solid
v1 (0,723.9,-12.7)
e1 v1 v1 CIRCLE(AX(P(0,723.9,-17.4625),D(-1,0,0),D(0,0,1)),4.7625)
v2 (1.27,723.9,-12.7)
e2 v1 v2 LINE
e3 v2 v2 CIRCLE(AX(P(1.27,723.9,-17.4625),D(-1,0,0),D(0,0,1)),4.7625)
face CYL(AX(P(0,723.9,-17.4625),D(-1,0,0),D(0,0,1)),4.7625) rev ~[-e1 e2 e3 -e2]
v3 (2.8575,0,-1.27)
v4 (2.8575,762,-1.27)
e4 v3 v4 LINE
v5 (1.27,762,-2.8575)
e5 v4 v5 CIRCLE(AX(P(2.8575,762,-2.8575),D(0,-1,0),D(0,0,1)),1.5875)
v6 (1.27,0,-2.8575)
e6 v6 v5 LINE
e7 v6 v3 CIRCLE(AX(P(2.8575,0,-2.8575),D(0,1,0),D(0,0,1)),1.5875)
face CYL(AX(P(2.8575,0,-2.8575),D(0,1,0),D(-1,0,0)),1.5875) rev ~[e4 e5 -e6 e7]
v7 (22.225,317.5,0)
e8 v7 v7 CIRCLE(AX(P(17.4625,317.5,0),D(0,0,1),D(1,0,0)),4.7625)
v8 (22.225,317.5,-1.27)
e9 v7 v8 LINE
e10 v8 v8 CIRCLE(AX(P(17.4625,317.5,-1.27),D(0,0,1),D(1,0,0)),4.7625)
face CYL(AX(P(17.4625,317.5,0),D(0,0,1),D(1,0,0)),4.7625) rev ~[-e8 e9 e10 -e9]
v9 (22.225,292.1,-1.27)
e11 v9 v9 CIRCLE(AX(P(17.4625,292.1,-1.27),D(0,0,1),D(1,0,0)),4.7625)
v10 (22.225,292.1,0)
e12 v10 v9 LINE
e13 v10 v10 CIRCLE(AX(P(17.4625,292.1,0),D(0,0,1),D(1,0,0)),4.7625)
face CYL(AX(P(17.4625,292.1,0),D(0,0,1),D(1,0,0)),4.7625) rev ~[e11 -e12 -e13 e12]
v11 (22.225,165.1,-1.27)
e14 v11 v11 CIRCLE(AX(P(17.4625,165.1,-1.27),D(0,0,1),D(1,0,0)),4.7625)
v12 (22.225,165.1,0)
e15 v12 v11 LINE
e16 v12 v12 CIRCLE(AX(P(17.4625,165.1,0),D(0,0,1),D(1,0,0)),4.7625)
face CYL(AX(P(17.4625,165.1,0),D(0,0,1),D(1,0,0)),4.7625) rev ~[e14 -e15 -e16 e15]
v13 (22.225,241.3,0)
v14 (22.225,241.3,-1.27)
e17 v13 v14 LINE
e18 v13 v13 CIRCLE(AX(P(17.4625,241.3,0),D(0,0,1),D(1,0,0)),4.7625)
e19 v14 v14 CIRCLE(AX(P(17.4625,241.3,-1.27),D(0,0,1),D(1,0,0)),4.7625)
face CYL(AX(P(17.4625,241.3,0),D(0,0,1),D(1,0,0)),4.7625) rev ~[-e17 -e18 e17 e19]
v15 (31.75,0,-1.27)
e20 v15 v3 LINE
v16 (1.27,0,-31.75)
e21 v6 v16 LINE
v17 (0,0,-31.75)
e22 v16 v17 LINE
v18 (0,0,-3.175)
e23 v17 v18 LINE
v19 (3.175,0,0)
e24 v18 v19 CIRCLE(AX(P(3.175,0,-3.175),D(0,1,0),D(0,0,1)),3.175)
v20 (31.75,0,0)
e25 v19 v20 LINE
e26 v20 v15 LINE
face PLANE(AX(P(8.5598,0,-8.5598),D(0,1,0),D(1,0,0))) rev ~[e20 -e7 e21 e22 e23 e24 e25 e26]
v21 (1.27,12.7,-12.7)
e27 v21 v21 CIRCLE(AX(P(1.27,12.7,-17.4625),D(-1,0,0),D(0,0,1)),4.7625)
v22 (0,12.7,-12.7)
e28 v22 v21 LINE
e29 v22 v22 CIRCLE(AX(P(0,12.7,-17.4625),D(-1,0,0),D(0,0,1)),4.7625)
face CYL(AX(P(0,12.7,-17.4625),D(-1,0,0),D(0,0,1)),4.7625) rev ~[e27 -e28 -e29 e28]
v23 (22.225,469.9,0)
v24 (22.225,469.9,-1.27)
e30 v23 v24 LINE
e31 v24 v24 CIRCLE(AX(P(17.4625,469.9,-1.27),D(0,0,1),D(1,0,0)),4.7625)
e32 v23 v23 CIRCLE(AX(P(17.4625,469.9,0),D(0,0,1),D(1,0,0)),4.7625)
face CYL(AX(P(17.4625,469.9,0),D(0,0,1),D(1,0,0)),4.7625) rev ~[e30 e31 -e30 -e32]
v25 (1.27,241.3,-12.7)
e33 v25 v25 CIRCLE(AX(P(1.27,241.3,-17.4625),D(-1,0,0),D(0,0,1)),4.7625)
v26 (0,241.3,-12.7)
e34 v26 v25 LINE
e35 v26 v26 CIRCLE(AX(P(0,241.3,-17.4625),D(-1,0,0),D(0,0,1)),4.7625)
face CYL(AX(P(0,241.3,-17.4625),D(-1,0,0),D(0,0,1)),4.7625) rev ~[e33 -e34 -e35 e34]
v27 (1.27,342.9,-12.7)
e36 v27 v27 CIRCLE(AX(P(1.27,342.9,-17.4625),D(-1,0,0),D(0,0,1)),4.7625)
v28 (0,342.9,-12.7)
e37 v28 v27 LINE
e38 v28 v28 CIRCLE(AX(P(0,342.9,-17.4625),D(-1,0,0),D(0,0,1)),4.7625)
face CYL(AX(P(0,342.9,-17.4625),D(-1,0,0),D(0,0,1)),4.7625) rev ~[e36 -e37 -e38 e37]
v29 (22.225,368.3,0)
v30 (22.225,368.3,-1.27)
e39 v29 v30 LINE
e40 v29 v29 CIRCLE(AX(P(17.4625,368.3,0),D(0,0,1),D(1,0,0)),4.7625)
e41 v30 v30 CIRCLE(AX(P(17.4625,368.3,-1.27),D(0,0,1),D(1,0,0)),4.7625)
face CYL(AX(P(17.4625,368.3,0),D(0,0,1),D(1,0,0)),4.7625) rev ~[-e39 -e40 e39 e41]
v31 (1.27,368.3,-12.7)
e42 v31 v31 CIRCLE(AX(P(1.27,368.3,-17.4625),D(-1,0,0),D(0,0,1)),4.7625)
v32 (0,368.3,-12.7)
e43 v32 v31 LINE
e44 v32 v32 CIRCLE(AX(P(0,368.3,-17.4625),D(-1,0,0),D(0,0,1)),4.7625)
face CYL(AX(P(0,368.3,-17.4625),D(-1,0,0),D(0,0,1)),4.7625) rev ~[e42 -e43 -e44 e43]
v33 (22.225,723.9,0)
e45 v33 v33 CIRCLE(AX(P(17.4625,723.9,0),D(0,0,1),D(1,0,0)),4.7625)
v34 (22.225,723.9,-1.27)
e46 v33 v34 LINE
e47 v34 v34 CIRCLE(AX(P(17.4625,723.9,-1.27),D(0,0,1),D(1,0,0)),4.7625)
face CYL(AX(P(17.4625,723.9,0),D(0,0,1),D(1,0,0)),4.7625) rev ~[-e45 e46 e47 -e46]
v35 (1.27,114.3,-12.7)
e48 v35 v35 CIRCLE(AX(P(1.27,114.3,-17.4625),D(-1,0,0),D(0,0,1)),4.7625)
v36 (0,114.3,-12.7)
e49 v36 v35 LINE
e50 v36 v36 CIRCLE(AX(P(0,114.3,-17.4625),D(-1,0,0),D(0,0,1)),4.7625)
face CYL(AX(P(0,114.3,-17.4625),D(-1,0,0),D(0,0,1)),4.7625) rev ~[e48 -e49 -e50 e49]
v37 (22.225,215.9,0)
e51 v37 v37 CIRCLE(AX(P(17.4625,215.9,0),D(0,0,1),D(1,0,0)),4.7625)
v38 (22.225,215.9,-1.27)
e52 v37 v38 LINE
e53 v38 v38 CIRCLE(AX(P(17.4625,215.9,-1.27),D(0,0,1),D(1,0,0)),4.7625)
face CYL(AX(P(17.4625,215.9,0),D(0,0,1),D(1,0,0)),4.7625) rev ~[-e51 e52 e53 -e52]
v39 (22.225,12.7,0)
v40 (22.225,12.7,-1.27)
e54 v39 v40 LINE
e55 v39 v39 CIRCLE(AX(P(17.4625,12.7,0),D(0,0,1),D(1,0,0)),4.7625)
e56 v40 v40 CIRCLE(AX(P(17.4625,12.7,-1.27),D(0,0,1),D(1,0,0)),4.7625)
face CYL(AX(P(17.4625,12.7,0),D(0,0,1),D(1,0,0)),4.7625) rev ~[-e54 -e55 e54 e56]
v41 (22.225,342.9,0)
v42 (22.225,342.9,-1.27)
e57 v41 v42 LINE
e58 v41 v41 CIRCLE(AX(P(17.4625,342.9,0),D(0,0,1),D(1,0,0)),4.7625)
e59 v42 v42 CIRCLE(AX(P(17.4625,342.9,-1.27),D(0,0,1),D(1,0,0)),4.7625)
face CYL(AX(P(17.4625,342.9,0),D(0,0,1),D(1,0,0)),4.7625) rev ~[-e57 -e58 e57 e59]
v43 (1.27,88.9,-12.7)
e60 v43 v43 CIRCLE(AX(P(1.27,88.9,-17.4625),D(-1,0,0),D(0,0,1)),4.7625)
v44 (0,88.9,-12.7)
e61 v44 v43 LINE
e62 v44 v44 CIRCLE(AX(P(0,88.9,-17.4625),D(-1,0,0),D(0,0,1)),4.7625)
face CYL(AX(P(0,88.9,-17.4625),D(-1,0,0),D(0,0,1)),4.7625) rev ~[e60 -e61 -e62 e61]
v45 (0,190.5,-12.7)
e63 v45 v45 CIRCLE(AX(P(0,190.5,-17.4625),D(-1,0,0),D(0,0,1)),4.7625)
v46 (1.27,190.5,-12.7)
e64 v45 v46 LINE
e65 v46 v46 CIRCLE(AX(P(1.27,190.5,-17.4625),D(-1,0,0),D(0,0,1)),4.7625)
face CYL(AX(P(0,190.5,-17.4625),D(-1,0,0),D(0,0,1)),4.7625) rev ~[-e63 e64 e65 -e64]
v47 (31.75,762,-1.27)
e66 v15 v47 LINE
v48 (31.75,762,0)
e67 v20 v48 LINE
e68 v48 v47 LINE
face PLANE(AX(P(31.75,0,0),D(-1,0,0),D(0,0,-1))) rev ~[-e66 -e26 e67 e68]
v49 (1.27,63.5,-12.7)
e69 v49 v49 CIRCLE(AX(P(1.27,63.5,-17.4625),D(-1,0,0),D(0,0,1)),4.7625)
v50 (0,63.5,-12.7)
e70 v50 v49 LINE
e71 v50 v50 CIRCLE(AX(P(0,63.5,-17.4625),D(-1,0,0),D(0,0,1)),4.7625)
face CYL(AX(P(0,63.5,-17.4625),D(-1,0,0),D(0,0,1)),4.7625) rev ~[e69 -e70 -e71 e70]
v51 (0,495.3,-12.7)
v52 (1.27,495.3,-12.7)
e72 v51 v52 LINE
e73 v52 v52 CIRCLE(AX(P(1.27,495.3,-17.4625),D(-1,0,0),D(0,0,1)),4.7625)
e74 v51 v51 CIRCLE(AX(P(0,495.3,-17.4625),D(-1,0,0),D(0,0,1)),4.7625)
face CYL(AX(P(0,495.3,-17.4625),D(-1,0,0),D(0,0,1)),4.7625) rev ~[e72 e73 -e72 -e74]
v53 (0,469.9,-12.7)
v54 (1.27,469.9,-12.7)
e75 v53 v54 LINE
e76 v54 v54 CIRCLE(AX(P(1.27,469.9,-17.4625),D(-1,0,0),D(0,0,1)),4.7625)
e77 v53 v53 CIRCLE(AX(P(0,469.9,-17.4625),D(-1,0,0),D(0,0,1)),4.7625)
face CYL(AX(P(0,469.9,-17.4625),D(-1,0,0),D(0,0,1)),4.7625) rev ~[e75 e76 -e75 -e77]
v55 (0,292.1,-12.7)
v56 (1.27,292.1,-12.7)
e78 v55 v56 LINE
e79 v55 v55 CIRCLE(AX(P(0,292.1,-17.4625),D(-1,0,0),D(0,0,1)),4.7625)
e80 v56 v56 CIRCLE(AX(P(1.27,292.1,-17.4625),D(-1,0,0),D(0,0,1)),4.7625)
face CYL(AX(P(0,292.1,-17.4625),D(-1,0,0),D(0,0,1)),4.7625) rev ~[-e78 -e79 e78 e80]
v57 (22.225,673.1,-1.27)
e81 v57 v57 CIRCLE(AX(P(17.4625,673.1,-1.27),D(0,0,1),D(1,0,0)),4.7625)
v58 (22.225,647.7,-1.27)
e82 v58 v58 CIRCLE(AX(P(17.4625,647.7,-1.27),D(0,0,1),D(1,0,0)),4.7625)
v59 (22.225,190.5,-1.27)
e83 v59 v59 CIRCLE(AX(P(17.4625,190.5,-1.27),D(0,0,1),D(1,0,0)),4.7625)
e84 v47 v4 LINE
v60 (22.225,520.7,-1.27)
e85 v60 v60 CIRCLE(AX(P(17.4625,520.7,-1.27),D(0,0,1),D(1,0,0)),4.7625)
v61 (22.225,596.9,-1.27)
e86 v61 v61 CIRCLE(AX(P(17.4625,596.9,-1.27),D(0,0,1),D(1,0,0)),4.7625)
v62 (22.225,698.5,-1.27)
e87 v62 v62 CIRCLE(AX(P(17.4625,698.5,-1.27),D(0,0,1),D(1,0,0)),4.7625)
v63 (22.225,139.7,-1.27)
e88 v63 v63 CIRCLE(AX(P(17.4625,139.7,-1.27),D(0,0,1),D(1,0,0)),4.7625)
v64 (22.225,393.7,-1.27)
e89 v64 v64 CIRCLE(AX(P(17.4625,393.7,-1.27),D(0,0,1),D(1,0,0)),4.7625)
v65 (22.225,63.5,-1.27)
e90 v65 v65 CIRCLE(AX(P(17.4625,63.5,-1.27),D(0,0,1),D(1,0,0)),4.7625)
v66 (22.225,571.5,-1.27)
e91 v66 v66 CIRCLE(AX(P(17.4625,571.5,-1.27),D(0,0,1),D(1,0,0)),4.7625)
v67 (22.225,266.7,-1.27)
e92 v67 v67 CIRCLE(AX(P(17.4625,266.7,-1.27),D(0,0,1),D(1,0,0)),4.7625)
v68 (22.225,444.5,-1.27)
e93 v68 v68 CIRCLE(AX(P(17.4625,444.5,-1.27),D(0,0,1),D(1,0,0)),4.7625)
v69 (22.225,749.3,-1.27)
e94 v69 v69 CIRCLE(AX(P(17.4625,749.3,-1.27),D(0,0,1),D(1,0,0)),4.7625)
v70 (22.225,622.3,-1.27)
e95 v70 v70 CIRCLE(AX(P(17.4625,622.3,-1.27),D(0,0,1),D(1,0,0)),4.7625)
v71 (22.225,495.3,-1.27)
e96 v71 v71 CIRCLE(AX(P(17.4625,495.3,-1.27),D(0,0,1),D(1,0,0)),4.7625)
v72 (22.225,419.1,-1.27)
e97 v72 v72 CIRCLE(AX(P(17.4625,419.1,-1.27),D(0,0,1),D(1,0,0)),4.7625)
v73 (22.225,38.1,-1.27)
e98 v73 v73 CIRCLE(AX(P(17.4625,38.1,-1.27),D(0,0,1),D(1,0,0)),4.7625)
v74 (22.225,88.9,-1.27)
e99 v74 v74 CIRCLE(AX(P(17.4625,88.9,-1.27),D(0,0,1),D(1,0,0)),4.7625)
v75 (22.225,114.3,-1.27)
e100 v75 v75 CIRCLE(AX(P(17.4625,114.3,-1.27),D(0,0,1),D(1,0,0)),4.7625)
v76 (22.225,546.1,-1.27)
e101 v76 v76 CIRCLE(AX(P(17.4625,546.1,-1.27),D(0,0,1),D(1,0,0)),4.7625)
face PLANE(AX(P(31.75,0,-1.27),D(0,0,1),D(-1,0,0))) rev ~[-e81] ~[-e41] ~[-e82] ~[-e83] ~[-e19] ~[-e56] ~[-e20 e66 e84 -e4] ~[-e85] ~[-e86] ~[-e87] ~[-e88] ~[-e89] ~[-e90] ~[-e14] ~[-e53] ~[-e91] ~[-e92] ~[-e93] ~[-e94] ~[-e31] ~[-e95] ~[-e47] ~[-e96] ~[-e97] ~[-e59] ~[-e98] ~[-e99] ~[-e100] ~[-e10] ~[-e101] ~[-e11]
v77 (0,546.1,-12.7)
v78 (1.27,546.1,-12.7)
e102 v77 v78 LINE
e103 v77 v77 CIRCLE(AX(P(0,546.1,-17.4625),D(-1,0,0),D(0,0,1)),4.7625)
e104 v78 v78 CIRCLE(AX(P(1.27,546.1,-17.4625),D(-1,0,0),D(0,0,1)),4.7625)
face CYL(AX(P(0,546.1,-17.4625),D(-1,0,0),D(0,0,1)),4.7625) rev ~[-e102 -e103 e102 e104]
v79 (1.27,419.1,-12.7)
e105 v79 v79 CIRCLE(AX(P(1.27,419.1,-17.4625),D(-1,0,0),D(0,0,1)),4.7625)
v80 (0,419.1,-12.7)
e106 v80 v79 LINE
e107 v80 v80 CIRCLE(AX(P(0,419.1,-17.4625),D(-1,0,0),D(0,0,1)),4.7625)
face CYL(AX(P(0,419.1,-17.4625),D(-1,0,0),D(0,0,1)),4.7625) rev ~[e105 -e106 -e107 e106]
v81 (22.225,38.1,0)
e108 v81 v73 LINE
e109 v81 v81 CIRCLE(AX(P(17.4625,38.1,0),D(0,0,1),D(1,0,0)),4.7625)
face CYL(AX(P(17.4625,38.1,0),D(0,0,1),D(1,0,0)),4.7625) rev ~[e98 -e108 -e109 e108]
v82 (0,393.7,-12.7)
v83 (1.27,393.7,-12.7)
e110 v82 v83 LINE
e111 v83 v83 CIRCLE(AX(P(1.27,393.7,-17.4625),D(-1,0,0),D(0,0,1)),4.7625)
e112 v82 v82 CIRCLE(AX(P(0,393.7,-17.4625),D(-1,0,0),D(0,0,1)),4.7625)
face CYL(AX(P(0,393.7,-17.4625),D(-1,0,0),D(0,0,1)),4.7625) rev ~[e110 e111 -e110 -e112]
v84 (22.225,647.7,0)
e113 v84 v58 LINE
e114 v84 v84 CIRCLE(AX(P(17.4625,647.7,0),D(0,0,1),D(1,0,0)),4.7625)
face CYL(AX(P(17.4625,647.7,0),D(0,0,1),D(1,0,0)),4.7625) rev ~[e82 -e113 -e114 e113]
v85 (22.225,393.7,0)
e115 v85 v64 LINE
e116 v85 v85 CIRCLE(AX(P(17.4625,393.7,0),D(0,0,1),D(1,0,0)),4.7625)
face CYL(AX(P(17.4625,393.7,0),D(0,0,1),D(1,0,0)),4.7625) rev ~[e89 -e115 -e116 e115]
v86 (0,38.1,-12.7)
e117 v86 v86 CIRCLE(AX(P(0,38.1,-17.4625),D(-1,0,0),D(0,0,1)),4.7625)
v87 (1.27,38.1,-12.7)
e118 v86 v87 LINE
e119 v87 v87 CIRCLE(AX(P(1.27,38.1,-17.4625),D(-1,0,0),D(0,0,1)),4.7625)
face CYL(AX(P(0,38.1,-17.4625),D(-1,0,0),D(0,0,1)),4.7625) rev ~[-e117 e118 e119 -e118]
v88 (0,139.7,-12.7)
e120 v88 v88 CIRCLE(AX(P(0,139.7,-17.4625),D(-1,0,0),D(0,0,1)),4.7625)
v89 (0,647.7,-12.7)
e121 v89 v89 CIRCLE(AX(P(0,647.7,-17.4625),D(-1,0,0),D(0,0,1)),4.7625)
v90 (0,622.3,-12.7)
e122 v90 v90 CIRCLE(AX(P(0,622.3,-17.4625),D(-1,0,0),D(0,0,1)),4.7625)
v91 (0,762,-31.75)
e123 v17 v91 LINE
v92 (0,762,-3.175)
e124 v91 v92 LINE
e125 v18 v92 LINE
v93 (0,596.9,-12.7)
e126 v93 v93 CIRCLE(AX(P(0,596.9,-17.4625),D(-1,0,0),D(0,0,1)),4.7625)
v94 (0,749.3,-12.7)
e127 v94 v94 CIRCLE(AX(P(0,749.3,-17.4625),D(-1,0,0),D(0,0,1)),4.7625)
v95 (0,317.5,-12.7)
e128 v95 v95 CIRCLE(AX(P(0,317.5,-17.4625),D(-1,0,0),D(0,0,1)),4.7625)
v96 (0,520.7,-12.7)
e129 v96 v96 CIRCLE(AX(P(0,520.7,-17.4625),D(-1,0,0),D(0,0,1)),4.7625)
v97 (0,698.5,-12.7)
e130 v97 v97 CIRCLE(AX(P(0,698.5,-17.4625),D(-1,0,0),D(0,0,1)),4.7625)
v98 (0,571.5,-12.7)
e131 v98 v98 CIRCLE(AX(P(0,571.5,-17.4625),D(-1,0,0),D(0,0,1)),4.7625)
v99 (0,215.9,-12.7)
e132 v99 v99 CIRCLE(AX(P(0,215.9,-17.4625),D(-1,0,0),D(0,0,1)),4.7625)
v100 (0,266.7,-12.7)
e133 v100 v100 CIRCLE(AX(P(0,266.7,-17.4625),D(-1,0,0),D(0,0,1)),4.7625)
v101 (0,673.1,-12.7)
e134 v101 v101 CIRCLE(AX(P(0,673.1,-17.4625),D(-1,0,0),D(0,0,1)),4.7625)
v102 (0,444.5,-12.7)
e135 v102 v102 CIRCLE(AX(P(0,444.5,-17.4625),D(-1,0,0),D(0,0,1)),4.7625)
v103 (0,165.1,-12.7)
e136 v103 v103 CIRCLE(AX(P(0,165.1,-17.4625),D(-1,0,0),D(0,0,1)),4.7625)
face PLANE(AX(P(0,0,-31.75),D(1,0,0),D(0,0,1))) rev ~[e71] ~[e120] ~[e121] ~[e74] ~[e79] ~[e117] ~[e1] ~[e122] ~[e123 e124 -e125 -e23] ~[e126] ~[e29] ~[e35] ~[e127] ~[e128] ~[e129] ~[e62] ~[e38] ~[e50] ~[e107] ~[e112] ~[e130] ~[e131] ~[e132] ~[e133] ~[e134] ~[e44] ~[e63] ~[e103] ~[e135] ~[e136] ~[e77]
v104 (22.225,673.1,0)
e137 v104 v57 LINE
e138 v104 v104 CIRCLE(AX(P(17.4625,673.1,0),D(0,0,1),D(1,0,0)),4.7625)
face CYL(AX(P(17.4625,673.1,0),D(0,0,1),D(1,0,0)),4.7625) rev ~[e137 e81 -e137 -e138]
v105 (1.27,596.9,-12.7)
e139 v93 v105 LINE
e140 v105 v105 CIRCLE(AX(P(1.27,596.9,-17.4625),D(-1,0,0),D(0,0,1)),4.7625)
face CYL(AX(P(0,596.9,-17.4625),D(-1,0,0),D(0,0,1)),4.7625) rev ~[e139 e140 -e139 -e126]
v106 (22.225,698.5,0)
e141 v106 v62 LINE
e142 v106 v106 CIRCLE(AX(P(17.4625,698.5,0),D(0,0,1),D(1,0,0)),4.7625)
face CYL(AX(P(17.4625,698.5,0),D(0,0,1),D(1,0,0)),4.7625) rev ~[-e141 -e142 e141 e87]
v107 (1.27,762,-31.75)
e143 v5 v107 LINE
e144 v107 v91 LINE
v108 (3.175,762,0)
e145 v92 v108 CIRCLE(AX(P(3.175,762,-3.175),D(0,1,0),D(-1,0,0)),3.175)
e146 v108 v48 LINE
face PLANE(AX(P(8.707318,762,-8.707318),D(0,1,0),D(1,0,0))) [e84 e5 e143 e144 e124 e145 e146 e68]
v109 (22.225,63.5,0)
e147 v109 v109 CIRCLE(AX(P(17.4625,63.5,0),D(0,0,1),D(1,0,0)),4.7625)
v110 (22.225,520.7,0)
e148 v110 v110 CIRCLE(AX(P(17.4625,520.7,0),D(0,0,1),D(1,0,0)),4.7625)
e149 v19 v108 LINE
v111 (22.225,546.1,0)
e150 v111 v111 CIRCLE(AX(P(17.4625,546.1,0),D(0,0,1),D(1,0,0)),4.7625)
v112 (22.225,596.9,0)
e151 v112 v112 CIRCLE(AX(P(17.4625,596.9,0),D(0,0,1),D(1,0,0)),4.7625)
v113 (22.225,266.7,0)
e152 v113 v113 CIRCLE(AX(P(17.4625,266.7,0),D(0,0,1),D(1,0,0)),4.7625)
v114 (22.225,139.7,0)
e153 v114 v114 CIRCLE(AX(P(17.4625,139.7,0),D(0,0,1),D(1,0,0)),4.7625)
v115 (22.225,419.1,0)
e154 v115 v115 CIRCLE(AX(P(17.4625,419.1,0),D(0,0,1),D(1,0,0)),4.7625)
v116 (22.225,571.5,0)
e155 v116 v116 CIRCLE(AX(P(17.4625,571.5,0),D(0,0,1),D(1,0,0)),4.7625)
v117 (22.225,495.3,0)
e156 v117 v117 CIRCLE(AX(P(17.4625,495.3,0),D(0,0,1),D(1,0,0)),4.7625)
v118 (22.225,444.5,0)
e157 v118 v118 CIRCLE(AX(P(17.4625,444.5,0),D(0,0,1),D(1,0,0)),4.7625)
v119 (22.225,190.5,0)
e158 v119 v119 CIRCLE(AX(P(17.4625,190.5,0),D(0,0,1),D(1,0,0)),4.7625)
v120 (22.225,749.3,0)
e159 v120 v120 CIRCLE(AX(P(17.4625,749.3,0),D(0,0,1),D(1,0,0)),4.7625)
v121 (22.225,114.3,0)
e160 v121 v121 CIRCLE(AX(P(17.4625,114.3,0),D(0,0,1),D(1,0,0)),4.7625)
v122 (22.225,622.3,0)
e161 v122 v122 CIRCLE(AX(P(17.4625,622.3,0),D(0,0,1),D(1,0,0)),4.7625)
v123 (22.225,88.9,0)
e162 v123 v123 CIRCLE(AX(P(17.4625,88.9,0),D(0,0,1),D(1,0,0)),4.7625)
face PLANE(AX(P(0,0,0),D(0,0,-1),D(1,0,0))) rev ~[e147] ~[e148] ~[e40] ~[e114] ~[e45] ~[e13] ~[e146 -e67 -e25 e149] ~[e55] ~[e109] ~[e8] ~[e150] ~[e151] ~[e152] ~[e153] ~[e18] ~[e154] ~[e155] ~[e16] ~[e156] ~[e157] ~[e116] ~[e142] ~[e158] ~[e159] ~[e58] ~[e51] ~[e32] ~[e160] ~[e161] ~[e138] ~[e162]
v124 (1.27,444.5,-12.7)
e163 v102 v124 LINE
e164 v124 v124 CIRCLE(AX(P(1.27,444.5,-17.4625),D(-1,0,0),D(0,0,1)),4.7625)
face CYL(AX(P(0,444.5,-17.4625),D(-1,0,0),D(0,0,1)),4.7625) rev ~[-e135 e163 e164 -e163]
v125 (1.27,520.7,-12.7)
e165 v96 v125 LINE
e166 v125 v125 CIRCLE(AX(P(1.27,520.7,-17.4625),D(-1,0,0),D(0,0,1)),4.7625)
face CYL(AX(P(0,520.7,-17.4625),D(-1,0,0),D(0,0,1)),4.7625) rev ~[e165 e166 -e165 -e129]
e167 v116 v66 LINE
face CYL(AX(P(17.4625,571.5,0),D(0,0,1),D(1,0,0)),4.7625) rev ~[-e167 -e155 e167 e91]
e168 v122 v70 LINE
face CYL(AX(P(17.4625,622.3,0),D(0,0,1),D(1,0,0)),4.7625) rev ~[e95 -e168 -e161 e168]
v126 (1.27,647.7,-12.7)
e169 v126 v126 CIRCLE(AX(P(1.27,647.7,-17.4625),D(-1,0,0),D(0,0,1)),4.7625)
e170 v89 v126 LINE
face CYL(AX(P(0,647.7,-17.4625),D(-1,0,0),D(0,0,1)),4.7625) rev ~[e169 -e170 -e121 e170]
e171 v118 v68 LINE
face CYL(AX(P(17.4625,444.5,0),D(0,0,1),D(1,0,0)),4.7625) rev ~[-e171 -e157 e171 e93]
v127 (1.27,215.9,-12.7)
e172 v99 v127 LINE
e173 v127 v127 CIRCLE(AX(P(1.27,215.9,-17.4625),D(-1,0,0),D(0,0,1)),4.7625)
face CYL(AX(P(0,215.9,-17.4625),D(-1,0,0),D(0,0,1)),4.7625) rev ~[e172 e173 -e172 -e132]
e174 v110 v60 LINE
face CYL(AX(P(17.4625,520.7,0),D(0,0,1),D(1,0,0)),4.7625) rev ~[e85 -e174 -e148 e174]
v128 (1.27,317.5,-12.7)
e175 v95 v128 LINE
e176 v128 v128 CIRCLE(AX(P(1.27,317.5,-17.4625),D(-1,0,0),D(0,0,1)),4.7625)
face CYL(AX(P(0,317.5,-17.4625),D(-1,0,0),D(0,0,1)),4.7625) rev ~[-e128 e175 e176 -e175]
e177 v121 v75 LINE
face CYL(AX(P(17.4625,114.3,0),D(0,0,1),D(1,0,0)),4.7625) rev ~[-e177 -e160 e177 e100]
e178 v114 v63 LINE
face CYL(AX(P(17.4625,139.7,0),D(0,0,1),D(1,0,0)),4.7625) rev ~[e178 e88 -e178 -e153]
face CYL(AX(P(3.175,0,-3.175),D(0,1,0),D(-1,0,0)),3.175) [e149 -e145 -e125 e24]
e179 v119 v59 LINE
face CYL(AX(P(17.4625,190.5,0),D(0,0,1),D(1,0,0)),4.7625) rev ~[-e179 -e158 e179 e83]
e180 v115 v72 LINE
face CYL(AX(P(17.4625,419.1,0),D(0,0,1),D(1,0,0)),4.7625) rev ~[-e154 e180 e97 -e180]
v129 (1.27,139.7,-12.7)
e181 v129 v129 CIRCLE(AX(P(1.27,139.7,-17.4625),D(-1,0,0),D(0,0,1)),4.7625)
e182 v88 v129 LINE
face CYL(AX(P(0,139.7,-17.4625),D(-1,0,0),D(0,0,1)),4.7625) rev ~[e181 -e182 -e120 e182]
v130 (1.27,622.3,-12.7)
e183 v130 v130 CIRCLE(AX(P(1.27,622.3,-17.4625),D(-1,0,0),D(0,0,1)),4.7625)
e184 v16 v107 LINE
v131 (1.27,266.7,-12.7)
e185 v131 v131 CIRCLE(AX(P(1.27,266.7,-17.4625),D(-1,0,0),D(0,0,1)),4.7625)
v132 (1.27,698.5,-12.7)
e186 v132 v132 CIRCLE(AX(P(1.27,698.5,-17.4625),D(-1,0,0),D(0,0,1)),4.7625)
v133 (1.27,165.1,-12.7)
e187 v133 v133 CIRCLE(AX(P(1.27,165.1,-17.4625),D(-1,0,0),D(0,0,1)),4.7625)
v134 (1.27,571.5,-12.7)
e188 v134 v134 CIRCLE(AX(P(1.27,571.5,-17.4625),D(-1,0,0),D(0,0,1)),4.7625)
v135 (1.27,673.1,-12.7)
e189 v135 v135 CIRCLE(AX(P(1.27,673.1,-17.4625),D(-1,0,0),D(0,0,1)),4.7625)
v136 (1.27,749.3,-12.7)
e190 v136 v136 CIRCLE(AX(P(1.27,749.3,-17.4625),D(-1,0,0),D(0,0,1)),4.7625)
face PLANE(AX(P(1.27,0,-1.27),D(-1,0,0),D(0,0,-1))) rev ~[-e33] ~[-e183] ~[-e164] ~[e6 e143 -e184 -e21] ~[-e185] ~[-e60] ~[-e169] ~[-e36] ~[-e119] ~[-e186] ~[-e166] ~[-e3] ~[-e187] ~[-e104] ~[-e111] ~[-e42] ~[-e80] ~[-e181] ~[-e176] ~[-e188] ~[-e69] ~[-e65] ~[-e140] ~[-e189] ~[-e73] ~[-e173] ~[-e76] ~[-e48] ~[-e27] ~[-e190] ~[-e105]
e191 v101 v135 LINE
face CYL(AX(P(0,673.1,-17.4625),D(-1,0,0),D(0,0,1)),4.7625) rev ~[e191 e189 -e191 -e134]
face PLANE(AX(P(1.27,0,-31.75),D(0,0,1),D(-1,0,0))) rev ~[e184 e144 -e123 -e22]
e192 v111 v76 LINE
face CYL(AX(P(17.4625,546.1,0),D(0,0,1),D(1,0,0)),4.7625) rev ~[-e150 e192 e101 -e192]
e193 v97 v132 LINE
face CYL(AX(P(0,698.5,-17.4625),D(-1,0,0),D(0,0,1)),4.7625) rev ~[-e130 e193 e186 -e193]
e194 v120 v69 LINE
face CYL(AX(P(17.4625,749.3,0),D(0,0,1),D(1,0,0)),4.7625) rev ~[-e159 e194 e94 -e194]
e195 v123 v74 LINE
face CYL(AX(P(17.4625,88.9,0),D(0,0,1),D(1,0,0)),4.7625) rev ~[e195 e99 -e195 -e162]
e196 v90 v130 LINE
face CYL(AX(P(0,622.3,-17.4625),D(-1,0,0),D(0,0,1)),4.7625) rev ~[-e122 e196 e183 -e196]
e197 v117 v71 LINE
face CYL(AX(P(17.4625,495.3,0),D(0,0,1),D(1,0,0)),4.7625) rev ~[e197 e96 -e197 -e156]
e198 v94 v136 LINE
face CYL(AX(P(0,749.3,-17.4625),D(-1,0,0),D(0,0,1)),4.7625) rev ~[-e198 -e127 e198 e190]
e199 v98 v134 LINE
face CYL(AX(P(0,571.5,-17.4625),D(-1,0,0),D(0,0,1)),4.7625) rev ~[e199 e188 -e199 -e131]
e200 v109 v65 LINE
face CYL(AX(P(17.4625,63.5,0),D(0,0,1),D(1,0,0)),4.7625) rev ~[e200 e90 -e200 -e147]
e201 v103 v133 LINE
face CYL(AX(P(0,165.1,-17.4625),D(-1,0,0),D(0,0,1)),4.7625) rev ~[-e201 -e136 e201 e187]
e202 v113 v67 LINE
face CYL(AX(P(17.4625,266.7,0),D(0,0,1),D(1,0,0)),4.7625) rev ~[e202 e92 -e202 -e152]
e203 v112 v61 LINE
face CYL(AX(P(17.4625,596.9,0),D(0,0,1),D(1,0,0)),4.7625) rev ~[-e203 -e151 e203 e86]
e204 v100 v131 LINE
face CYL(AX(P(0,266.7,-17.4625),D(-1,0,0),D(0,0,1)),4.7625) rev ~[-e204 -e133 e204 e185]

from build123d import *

# Parameters (mm, degrees)
BOSS_EXTRUDE1_DEPTH = 1219.2
SKETCH3_R           = 4.7625
CUT_EXTRUDE1_DEPTH  = 1.27
SKETCH4_R           = 4.7625
CUT_EXTRUDE2_DEPTH  = 1.27
FILLET1_R           = 3.175
FILLET2_R           = 1.5875
CUT_EXTRUDE3_DEPTH  = 457.2


with BuildPart() as part:
    # Sketch1 → Boss-Extrude1 (new body)
    with BuildSketch(Plane(origin=(0, 0, 0), x_dir=(1, 0, 0), z_dir=(0, 1, 0))):
        Polygon((1.27, 1.27), (1.27, 30.48), (1.27, 31.75), (0, 31.75), (0, 0), (31.75, 0), (31.75, 1.27), (30.48, 1.27), align=None)
    extrude(amount=BOSS_EXTRUDE1_DEPTH)

    # Sketch3 → Cut-Extrude1 (cut)
    with BuildSketch(Plane.ZY):
        with Locations((-17.4625, 12.7)):
            Circle(SKETCH3_R)
        with Locations((-17.4625, 38.1)):
            Circle(SKETCH3_R)
        with Locations((-17.4625, 63.5)):
            Circle(SKETCH3_R)
        with Locations((-17.4625, 88.9)):
            Circle(SKETCH3_R)
        with Locations((-17.4625, 114.3)):
            Circle(SKETCH3_R)
        with Locations((-17.4625, 139.7)):
            Circle(SKETCH3_R)
        with Locations((-17.4625, 165.1)):
            Circle(SKETCH3_R)
        with Locations((-17.4625, 190.5)):
            Circle(SKETCH3_R)
        with Locations((-17.4625, 215.9)):
            Circle(SKETCH3_R)
        with Locations((-17.4625, 241.3)):
            Circle(SKETCH3_R)
        with Locations((-17.4625, 266.7)):
            Circle(SKETCH3_R)
        with Locations((-17.4625, 292.1)):
            Circle(SKETCH3_R)
        with Locations((-17.4625, 317.5)):
            Circle(SKETCH3_R)
        with Locations((-17.4625, 342.9)):
            Circle(SKETCH3_R)
        with Locations((-17.4625, 368.3)):
            Circle(SKETCH3_R)
        with Locations((-17.4625, 393.7)):
            Circle(SKETCH3_R)
        with Locations((-17.4625, 419.1)):
            Circle(SKETCH3_R)
        with Locations((-17.4625, 444.5)):
            Circle(SKETCH3_R)
        with Locations((-17.4625, 469.9)):
            Circle(SKETCH3_R)
        with Locations((-17.4625, 495.3)):
            Circle(SKETCH3_R)
        with Locations((-17.4625, 520.7)):
            Circle(SKETCH3_R)
        with Locations((-17.4625, 546.1)):
            Circle(SKETCH3_R)
        with Locations((-17.4625, 571.5)):
            Circle(SKETCH3_R)
        with Locations((-17.4625, 596.9)):
            Circle(SKETCH3_R)
        with Locations((-17.4625, 622.3)):
            Circle(SKETCH3_R)
        with Locations((-17.4625, 647.7)):
            Circle(SKETCH3_R)
        with Locations((-17.4625, 673.1)):
            Circle(SKETCH3_R)
        with Locations((-17.4625, 698.5)):
            Circle(SKETCH3_R)
        with Locations((-17.4625, 723.9)):
            Circle(SKETCH3_R)
        with Locations((-17.4625, 749.3)):
            Circle(SKETCH3_R)
        with Locations((-17.4625, 774.7)):
            Circle(SKETCH3_R)
        with Locations((-17.4625, 800.1)):
            Circle(SKETCH3_R)
        with Locations((-17.4625, 825.5)):
            Circle(SKETCH3_R)
        with Locations((-17.4625, 850.9)):
            Circle(SKETCH3_R)
        with Locations((-17.4625, 876.3)):
            Circle(SKETCH3_R)
        with Locations((-17.4625, 901.7)):
            Circle(SKETCH3_R)
        with Locations((-17.4625, 927.1)):
            Circle(SKETCH3_R)
        with Locations((-17.4625, 952.5)):
            Circle(SKETCH3_R)
        with Locations((-17.4625, 977.9)):
            Circle(SKETCH3_R)
        with Locations((-17.4625, 1003.3)):
            Circle(SKETCH3_R)
        with Locations((-17.4625, 1028.7)):
            Circle(SKETCH3_R)
        with Locations((-17.4625, 1054.1)):
            Circle(SKETCH3_R)
        with Locations((-17.4625, 1079.5)):
            Circle(SKETCH3_R)
        with Locations((-17.4625, 1104.9)):
            Circle(SKETCH3_R)
        with Locations((-17.4625, 1130.3)):
            Circle(SKETCH3_R)
        with Locations((-17.4625, 1155.7)):
            Circle(SKETCH3_R)
        with Locations((-17.4625, 1181.1)):
            Circle(SKETCH3_R)
        with Locations((-17.4625, 1206.5)):
            Circle(SKETCH3_R)
    extrude(amount=-CUT_EXTRUDE1_DEPTH, mode=Mode.SUBTRACT)

    # Sketch4 → Cut-Extrude2 (cut)
    with BuildSketch(Plane.XY):
        with Locations((17.4625, 1206.5)):
            Circle(SKETCH4_R)
        with Locations((17.4625, 1181.1)):
            Circle(SKETCH4_R)
        with Locations((17.4625, 1155.7)):
            Circle(SKETCH4_R)
        with Locations((17.4625, 1130.3)):
            Circle(SKETCH4_R)
        with Locations((17.4625, 1104.9)):
            Circle(SKETCH4_R)
        with Locations((17.4625, 1079.5)):
            Circle(SKETCH4_R)
        with Locations((17.4625, 1054.1)):
            Circle(SKETCH4_R)
        with Locations((17.4625, 1028.7)):
            Circle(SKETCH4_R)
        with Locations((17.4625, 1003.3)):
            Circle(SKETCH4_R)
        with Locations((17.4625, 977.9)):
            Circle(SKETCH4_R)
        with Locations((17.4625, 952.5)):
            Circle(SKETCH4_R)
        with Locations((17.4625, 927.1)):
            Circle(SKETCH4_R)
        with Locations((17.4625, 901.7)):
            Circle(SKETCH4_R)
        with Locations((17.4625, 876.3)):
            Circle(SKETCH4_R)
        with Locations((17.4625, 850.9)):
            Circle(SKETCH4_R)
        with Locations((17.4625, 825.5)):
            Circle(SKETCH4_R)
        with Locations((17.4625, 800.1)):
            Circle(SKETCH4_R)
        with Locations((17.4625, 774.7)):
            Circle(SKETCH4_R)
        with Locations((17.4625, 749.3)):
            Circle(SKETCH4_R)
        with Locations((17.4625, 723.9)):
            Circle(SKETCH4_R)
        with Locations((17.4625, 698.5)):
            Circle(SKETCH4_R)
        with Locations((17.4625, 673.1)):
            Circle(SKETCH4_R)
        with Locations((17.4625, 647.7)):
            Circle(SKETCH4_R)
        with Locations((17.4625, 622.3)):
            Circle(SKETCH4_R)
        with Locations((17.4625, 596.9)):
            Circle(SKETCH4_R)
        with Locations((17.4625, 571.5)):
            Circle(SKETCH4_R)
        with Locations((17.4625, 546.1)):
            Circle(SKETCH4_R)
        with Locations((17.4625, 520.7)):
            Circle(SKETCH4_R)
        with Locations((17.4625, 495.3)):
            Circle(SKETCH4_R)
        with Locations((17.4625, 469.9)):
            Circle(SKETCH4_R)
        with Locations((17.4625, 444.5)):
            Circle(SKETCH4_R)
        with Locations((17.4625, 419.1)):
            Circle(SKETCH4_R)
        with Locations((17.4625, 393.7)):
            Circle(SKETCH4_R)
        with Locations((17.4625, 368.3)):
            Circle(SKETCH4_R)
        with Locations((17.4625, 342.9)):
            Circle(SKETCH4_R)
        with Locations((17.4625, 317.5)):
            Circle(SKETCH4_R)
        with Locations((17.4625, 292.1)):
            Circle(SKETCH4_R)
        with Locations((17.4625, 266.7)):
            Circle(SKETCH4_R)
        with Locations((17.4625, 241.3)):
            Circle(SKETCH4_R)
        with Locations((17.4625, 215.9)):
            Circle(SKETCH4_R)
        with Locations((17.4625, 190.5)):
            Circle(SKETCH4_R)
        with Locations((17.4625, 165.1)):
            Circle(SKETCH4_R)
        with Locations((17.4625, 139.7)):
            Circle(SKETCH4_R)
        with Locations((17.4625, 114.3)):
            Circle(SKETCH4_R)
        with Locations((17.4625, 88.9)):
            Circle(SKETCH4_R)
        with Locations((17.4625, 63.5)):
            Circle(SKETCH4_R)
        with Locations((17.4625, 38.1)):
            Circle(SKETCH4_R)
        with Locations((17.4625, 12.7)):
            Circle(SKETCH4_R)
    extrude(amount=-CUT_EXTRUDE2_DEPTH, mode=Mode.SUBTRACT)

    # Fillet1
    fillet1_edges = [part.edges().sort_by_distance(p)[0] for p in [
        (0, 609.6, 0),
    ]]
    fillet(fillet1_edges, radius=FILLET1_R)

    # Fillet2
    fillet2_edges = [part.edges().sort_by_distance(p)[0] for p in [
        (1.27, 609.6, -1.27),
    ]]
    fillet(fillet2_edges, radius=FILLET2_R)

    # Sketch5 → Cut-Extrude3 (cut)
    with BuildSketch(Plane(origin=(0, 1219.2, 0), x_dir=(1, 0, 0), z_dir=(0, 1, 0))):
        with BuildLine():
            Line((0, 31.75), (0, 3.175))
            ThreePointArc((0, 3.175), (0.92993597, 0.92993597), (3.175, 0))
            Line((3.175, 0), (31.75, 0))
            Line((31.75, 0), (31.75, 1.27))
            Line((31.75, 1.27), (2.8575, 1.27))
            ThreePointArc((2.8575, 1.27), (1.734967985, 1.734967985), (1.27, 2.8575))
            Line((1.27, 2.8575), (1.27, 31.75))
            Line((1.27, 31.75), (0, 31.75))
        make_face()
    extrude(amount=-CUT_EXTRUDE3_DEPTH, mode=Mode.SUBTRACT)


solid = part.part
